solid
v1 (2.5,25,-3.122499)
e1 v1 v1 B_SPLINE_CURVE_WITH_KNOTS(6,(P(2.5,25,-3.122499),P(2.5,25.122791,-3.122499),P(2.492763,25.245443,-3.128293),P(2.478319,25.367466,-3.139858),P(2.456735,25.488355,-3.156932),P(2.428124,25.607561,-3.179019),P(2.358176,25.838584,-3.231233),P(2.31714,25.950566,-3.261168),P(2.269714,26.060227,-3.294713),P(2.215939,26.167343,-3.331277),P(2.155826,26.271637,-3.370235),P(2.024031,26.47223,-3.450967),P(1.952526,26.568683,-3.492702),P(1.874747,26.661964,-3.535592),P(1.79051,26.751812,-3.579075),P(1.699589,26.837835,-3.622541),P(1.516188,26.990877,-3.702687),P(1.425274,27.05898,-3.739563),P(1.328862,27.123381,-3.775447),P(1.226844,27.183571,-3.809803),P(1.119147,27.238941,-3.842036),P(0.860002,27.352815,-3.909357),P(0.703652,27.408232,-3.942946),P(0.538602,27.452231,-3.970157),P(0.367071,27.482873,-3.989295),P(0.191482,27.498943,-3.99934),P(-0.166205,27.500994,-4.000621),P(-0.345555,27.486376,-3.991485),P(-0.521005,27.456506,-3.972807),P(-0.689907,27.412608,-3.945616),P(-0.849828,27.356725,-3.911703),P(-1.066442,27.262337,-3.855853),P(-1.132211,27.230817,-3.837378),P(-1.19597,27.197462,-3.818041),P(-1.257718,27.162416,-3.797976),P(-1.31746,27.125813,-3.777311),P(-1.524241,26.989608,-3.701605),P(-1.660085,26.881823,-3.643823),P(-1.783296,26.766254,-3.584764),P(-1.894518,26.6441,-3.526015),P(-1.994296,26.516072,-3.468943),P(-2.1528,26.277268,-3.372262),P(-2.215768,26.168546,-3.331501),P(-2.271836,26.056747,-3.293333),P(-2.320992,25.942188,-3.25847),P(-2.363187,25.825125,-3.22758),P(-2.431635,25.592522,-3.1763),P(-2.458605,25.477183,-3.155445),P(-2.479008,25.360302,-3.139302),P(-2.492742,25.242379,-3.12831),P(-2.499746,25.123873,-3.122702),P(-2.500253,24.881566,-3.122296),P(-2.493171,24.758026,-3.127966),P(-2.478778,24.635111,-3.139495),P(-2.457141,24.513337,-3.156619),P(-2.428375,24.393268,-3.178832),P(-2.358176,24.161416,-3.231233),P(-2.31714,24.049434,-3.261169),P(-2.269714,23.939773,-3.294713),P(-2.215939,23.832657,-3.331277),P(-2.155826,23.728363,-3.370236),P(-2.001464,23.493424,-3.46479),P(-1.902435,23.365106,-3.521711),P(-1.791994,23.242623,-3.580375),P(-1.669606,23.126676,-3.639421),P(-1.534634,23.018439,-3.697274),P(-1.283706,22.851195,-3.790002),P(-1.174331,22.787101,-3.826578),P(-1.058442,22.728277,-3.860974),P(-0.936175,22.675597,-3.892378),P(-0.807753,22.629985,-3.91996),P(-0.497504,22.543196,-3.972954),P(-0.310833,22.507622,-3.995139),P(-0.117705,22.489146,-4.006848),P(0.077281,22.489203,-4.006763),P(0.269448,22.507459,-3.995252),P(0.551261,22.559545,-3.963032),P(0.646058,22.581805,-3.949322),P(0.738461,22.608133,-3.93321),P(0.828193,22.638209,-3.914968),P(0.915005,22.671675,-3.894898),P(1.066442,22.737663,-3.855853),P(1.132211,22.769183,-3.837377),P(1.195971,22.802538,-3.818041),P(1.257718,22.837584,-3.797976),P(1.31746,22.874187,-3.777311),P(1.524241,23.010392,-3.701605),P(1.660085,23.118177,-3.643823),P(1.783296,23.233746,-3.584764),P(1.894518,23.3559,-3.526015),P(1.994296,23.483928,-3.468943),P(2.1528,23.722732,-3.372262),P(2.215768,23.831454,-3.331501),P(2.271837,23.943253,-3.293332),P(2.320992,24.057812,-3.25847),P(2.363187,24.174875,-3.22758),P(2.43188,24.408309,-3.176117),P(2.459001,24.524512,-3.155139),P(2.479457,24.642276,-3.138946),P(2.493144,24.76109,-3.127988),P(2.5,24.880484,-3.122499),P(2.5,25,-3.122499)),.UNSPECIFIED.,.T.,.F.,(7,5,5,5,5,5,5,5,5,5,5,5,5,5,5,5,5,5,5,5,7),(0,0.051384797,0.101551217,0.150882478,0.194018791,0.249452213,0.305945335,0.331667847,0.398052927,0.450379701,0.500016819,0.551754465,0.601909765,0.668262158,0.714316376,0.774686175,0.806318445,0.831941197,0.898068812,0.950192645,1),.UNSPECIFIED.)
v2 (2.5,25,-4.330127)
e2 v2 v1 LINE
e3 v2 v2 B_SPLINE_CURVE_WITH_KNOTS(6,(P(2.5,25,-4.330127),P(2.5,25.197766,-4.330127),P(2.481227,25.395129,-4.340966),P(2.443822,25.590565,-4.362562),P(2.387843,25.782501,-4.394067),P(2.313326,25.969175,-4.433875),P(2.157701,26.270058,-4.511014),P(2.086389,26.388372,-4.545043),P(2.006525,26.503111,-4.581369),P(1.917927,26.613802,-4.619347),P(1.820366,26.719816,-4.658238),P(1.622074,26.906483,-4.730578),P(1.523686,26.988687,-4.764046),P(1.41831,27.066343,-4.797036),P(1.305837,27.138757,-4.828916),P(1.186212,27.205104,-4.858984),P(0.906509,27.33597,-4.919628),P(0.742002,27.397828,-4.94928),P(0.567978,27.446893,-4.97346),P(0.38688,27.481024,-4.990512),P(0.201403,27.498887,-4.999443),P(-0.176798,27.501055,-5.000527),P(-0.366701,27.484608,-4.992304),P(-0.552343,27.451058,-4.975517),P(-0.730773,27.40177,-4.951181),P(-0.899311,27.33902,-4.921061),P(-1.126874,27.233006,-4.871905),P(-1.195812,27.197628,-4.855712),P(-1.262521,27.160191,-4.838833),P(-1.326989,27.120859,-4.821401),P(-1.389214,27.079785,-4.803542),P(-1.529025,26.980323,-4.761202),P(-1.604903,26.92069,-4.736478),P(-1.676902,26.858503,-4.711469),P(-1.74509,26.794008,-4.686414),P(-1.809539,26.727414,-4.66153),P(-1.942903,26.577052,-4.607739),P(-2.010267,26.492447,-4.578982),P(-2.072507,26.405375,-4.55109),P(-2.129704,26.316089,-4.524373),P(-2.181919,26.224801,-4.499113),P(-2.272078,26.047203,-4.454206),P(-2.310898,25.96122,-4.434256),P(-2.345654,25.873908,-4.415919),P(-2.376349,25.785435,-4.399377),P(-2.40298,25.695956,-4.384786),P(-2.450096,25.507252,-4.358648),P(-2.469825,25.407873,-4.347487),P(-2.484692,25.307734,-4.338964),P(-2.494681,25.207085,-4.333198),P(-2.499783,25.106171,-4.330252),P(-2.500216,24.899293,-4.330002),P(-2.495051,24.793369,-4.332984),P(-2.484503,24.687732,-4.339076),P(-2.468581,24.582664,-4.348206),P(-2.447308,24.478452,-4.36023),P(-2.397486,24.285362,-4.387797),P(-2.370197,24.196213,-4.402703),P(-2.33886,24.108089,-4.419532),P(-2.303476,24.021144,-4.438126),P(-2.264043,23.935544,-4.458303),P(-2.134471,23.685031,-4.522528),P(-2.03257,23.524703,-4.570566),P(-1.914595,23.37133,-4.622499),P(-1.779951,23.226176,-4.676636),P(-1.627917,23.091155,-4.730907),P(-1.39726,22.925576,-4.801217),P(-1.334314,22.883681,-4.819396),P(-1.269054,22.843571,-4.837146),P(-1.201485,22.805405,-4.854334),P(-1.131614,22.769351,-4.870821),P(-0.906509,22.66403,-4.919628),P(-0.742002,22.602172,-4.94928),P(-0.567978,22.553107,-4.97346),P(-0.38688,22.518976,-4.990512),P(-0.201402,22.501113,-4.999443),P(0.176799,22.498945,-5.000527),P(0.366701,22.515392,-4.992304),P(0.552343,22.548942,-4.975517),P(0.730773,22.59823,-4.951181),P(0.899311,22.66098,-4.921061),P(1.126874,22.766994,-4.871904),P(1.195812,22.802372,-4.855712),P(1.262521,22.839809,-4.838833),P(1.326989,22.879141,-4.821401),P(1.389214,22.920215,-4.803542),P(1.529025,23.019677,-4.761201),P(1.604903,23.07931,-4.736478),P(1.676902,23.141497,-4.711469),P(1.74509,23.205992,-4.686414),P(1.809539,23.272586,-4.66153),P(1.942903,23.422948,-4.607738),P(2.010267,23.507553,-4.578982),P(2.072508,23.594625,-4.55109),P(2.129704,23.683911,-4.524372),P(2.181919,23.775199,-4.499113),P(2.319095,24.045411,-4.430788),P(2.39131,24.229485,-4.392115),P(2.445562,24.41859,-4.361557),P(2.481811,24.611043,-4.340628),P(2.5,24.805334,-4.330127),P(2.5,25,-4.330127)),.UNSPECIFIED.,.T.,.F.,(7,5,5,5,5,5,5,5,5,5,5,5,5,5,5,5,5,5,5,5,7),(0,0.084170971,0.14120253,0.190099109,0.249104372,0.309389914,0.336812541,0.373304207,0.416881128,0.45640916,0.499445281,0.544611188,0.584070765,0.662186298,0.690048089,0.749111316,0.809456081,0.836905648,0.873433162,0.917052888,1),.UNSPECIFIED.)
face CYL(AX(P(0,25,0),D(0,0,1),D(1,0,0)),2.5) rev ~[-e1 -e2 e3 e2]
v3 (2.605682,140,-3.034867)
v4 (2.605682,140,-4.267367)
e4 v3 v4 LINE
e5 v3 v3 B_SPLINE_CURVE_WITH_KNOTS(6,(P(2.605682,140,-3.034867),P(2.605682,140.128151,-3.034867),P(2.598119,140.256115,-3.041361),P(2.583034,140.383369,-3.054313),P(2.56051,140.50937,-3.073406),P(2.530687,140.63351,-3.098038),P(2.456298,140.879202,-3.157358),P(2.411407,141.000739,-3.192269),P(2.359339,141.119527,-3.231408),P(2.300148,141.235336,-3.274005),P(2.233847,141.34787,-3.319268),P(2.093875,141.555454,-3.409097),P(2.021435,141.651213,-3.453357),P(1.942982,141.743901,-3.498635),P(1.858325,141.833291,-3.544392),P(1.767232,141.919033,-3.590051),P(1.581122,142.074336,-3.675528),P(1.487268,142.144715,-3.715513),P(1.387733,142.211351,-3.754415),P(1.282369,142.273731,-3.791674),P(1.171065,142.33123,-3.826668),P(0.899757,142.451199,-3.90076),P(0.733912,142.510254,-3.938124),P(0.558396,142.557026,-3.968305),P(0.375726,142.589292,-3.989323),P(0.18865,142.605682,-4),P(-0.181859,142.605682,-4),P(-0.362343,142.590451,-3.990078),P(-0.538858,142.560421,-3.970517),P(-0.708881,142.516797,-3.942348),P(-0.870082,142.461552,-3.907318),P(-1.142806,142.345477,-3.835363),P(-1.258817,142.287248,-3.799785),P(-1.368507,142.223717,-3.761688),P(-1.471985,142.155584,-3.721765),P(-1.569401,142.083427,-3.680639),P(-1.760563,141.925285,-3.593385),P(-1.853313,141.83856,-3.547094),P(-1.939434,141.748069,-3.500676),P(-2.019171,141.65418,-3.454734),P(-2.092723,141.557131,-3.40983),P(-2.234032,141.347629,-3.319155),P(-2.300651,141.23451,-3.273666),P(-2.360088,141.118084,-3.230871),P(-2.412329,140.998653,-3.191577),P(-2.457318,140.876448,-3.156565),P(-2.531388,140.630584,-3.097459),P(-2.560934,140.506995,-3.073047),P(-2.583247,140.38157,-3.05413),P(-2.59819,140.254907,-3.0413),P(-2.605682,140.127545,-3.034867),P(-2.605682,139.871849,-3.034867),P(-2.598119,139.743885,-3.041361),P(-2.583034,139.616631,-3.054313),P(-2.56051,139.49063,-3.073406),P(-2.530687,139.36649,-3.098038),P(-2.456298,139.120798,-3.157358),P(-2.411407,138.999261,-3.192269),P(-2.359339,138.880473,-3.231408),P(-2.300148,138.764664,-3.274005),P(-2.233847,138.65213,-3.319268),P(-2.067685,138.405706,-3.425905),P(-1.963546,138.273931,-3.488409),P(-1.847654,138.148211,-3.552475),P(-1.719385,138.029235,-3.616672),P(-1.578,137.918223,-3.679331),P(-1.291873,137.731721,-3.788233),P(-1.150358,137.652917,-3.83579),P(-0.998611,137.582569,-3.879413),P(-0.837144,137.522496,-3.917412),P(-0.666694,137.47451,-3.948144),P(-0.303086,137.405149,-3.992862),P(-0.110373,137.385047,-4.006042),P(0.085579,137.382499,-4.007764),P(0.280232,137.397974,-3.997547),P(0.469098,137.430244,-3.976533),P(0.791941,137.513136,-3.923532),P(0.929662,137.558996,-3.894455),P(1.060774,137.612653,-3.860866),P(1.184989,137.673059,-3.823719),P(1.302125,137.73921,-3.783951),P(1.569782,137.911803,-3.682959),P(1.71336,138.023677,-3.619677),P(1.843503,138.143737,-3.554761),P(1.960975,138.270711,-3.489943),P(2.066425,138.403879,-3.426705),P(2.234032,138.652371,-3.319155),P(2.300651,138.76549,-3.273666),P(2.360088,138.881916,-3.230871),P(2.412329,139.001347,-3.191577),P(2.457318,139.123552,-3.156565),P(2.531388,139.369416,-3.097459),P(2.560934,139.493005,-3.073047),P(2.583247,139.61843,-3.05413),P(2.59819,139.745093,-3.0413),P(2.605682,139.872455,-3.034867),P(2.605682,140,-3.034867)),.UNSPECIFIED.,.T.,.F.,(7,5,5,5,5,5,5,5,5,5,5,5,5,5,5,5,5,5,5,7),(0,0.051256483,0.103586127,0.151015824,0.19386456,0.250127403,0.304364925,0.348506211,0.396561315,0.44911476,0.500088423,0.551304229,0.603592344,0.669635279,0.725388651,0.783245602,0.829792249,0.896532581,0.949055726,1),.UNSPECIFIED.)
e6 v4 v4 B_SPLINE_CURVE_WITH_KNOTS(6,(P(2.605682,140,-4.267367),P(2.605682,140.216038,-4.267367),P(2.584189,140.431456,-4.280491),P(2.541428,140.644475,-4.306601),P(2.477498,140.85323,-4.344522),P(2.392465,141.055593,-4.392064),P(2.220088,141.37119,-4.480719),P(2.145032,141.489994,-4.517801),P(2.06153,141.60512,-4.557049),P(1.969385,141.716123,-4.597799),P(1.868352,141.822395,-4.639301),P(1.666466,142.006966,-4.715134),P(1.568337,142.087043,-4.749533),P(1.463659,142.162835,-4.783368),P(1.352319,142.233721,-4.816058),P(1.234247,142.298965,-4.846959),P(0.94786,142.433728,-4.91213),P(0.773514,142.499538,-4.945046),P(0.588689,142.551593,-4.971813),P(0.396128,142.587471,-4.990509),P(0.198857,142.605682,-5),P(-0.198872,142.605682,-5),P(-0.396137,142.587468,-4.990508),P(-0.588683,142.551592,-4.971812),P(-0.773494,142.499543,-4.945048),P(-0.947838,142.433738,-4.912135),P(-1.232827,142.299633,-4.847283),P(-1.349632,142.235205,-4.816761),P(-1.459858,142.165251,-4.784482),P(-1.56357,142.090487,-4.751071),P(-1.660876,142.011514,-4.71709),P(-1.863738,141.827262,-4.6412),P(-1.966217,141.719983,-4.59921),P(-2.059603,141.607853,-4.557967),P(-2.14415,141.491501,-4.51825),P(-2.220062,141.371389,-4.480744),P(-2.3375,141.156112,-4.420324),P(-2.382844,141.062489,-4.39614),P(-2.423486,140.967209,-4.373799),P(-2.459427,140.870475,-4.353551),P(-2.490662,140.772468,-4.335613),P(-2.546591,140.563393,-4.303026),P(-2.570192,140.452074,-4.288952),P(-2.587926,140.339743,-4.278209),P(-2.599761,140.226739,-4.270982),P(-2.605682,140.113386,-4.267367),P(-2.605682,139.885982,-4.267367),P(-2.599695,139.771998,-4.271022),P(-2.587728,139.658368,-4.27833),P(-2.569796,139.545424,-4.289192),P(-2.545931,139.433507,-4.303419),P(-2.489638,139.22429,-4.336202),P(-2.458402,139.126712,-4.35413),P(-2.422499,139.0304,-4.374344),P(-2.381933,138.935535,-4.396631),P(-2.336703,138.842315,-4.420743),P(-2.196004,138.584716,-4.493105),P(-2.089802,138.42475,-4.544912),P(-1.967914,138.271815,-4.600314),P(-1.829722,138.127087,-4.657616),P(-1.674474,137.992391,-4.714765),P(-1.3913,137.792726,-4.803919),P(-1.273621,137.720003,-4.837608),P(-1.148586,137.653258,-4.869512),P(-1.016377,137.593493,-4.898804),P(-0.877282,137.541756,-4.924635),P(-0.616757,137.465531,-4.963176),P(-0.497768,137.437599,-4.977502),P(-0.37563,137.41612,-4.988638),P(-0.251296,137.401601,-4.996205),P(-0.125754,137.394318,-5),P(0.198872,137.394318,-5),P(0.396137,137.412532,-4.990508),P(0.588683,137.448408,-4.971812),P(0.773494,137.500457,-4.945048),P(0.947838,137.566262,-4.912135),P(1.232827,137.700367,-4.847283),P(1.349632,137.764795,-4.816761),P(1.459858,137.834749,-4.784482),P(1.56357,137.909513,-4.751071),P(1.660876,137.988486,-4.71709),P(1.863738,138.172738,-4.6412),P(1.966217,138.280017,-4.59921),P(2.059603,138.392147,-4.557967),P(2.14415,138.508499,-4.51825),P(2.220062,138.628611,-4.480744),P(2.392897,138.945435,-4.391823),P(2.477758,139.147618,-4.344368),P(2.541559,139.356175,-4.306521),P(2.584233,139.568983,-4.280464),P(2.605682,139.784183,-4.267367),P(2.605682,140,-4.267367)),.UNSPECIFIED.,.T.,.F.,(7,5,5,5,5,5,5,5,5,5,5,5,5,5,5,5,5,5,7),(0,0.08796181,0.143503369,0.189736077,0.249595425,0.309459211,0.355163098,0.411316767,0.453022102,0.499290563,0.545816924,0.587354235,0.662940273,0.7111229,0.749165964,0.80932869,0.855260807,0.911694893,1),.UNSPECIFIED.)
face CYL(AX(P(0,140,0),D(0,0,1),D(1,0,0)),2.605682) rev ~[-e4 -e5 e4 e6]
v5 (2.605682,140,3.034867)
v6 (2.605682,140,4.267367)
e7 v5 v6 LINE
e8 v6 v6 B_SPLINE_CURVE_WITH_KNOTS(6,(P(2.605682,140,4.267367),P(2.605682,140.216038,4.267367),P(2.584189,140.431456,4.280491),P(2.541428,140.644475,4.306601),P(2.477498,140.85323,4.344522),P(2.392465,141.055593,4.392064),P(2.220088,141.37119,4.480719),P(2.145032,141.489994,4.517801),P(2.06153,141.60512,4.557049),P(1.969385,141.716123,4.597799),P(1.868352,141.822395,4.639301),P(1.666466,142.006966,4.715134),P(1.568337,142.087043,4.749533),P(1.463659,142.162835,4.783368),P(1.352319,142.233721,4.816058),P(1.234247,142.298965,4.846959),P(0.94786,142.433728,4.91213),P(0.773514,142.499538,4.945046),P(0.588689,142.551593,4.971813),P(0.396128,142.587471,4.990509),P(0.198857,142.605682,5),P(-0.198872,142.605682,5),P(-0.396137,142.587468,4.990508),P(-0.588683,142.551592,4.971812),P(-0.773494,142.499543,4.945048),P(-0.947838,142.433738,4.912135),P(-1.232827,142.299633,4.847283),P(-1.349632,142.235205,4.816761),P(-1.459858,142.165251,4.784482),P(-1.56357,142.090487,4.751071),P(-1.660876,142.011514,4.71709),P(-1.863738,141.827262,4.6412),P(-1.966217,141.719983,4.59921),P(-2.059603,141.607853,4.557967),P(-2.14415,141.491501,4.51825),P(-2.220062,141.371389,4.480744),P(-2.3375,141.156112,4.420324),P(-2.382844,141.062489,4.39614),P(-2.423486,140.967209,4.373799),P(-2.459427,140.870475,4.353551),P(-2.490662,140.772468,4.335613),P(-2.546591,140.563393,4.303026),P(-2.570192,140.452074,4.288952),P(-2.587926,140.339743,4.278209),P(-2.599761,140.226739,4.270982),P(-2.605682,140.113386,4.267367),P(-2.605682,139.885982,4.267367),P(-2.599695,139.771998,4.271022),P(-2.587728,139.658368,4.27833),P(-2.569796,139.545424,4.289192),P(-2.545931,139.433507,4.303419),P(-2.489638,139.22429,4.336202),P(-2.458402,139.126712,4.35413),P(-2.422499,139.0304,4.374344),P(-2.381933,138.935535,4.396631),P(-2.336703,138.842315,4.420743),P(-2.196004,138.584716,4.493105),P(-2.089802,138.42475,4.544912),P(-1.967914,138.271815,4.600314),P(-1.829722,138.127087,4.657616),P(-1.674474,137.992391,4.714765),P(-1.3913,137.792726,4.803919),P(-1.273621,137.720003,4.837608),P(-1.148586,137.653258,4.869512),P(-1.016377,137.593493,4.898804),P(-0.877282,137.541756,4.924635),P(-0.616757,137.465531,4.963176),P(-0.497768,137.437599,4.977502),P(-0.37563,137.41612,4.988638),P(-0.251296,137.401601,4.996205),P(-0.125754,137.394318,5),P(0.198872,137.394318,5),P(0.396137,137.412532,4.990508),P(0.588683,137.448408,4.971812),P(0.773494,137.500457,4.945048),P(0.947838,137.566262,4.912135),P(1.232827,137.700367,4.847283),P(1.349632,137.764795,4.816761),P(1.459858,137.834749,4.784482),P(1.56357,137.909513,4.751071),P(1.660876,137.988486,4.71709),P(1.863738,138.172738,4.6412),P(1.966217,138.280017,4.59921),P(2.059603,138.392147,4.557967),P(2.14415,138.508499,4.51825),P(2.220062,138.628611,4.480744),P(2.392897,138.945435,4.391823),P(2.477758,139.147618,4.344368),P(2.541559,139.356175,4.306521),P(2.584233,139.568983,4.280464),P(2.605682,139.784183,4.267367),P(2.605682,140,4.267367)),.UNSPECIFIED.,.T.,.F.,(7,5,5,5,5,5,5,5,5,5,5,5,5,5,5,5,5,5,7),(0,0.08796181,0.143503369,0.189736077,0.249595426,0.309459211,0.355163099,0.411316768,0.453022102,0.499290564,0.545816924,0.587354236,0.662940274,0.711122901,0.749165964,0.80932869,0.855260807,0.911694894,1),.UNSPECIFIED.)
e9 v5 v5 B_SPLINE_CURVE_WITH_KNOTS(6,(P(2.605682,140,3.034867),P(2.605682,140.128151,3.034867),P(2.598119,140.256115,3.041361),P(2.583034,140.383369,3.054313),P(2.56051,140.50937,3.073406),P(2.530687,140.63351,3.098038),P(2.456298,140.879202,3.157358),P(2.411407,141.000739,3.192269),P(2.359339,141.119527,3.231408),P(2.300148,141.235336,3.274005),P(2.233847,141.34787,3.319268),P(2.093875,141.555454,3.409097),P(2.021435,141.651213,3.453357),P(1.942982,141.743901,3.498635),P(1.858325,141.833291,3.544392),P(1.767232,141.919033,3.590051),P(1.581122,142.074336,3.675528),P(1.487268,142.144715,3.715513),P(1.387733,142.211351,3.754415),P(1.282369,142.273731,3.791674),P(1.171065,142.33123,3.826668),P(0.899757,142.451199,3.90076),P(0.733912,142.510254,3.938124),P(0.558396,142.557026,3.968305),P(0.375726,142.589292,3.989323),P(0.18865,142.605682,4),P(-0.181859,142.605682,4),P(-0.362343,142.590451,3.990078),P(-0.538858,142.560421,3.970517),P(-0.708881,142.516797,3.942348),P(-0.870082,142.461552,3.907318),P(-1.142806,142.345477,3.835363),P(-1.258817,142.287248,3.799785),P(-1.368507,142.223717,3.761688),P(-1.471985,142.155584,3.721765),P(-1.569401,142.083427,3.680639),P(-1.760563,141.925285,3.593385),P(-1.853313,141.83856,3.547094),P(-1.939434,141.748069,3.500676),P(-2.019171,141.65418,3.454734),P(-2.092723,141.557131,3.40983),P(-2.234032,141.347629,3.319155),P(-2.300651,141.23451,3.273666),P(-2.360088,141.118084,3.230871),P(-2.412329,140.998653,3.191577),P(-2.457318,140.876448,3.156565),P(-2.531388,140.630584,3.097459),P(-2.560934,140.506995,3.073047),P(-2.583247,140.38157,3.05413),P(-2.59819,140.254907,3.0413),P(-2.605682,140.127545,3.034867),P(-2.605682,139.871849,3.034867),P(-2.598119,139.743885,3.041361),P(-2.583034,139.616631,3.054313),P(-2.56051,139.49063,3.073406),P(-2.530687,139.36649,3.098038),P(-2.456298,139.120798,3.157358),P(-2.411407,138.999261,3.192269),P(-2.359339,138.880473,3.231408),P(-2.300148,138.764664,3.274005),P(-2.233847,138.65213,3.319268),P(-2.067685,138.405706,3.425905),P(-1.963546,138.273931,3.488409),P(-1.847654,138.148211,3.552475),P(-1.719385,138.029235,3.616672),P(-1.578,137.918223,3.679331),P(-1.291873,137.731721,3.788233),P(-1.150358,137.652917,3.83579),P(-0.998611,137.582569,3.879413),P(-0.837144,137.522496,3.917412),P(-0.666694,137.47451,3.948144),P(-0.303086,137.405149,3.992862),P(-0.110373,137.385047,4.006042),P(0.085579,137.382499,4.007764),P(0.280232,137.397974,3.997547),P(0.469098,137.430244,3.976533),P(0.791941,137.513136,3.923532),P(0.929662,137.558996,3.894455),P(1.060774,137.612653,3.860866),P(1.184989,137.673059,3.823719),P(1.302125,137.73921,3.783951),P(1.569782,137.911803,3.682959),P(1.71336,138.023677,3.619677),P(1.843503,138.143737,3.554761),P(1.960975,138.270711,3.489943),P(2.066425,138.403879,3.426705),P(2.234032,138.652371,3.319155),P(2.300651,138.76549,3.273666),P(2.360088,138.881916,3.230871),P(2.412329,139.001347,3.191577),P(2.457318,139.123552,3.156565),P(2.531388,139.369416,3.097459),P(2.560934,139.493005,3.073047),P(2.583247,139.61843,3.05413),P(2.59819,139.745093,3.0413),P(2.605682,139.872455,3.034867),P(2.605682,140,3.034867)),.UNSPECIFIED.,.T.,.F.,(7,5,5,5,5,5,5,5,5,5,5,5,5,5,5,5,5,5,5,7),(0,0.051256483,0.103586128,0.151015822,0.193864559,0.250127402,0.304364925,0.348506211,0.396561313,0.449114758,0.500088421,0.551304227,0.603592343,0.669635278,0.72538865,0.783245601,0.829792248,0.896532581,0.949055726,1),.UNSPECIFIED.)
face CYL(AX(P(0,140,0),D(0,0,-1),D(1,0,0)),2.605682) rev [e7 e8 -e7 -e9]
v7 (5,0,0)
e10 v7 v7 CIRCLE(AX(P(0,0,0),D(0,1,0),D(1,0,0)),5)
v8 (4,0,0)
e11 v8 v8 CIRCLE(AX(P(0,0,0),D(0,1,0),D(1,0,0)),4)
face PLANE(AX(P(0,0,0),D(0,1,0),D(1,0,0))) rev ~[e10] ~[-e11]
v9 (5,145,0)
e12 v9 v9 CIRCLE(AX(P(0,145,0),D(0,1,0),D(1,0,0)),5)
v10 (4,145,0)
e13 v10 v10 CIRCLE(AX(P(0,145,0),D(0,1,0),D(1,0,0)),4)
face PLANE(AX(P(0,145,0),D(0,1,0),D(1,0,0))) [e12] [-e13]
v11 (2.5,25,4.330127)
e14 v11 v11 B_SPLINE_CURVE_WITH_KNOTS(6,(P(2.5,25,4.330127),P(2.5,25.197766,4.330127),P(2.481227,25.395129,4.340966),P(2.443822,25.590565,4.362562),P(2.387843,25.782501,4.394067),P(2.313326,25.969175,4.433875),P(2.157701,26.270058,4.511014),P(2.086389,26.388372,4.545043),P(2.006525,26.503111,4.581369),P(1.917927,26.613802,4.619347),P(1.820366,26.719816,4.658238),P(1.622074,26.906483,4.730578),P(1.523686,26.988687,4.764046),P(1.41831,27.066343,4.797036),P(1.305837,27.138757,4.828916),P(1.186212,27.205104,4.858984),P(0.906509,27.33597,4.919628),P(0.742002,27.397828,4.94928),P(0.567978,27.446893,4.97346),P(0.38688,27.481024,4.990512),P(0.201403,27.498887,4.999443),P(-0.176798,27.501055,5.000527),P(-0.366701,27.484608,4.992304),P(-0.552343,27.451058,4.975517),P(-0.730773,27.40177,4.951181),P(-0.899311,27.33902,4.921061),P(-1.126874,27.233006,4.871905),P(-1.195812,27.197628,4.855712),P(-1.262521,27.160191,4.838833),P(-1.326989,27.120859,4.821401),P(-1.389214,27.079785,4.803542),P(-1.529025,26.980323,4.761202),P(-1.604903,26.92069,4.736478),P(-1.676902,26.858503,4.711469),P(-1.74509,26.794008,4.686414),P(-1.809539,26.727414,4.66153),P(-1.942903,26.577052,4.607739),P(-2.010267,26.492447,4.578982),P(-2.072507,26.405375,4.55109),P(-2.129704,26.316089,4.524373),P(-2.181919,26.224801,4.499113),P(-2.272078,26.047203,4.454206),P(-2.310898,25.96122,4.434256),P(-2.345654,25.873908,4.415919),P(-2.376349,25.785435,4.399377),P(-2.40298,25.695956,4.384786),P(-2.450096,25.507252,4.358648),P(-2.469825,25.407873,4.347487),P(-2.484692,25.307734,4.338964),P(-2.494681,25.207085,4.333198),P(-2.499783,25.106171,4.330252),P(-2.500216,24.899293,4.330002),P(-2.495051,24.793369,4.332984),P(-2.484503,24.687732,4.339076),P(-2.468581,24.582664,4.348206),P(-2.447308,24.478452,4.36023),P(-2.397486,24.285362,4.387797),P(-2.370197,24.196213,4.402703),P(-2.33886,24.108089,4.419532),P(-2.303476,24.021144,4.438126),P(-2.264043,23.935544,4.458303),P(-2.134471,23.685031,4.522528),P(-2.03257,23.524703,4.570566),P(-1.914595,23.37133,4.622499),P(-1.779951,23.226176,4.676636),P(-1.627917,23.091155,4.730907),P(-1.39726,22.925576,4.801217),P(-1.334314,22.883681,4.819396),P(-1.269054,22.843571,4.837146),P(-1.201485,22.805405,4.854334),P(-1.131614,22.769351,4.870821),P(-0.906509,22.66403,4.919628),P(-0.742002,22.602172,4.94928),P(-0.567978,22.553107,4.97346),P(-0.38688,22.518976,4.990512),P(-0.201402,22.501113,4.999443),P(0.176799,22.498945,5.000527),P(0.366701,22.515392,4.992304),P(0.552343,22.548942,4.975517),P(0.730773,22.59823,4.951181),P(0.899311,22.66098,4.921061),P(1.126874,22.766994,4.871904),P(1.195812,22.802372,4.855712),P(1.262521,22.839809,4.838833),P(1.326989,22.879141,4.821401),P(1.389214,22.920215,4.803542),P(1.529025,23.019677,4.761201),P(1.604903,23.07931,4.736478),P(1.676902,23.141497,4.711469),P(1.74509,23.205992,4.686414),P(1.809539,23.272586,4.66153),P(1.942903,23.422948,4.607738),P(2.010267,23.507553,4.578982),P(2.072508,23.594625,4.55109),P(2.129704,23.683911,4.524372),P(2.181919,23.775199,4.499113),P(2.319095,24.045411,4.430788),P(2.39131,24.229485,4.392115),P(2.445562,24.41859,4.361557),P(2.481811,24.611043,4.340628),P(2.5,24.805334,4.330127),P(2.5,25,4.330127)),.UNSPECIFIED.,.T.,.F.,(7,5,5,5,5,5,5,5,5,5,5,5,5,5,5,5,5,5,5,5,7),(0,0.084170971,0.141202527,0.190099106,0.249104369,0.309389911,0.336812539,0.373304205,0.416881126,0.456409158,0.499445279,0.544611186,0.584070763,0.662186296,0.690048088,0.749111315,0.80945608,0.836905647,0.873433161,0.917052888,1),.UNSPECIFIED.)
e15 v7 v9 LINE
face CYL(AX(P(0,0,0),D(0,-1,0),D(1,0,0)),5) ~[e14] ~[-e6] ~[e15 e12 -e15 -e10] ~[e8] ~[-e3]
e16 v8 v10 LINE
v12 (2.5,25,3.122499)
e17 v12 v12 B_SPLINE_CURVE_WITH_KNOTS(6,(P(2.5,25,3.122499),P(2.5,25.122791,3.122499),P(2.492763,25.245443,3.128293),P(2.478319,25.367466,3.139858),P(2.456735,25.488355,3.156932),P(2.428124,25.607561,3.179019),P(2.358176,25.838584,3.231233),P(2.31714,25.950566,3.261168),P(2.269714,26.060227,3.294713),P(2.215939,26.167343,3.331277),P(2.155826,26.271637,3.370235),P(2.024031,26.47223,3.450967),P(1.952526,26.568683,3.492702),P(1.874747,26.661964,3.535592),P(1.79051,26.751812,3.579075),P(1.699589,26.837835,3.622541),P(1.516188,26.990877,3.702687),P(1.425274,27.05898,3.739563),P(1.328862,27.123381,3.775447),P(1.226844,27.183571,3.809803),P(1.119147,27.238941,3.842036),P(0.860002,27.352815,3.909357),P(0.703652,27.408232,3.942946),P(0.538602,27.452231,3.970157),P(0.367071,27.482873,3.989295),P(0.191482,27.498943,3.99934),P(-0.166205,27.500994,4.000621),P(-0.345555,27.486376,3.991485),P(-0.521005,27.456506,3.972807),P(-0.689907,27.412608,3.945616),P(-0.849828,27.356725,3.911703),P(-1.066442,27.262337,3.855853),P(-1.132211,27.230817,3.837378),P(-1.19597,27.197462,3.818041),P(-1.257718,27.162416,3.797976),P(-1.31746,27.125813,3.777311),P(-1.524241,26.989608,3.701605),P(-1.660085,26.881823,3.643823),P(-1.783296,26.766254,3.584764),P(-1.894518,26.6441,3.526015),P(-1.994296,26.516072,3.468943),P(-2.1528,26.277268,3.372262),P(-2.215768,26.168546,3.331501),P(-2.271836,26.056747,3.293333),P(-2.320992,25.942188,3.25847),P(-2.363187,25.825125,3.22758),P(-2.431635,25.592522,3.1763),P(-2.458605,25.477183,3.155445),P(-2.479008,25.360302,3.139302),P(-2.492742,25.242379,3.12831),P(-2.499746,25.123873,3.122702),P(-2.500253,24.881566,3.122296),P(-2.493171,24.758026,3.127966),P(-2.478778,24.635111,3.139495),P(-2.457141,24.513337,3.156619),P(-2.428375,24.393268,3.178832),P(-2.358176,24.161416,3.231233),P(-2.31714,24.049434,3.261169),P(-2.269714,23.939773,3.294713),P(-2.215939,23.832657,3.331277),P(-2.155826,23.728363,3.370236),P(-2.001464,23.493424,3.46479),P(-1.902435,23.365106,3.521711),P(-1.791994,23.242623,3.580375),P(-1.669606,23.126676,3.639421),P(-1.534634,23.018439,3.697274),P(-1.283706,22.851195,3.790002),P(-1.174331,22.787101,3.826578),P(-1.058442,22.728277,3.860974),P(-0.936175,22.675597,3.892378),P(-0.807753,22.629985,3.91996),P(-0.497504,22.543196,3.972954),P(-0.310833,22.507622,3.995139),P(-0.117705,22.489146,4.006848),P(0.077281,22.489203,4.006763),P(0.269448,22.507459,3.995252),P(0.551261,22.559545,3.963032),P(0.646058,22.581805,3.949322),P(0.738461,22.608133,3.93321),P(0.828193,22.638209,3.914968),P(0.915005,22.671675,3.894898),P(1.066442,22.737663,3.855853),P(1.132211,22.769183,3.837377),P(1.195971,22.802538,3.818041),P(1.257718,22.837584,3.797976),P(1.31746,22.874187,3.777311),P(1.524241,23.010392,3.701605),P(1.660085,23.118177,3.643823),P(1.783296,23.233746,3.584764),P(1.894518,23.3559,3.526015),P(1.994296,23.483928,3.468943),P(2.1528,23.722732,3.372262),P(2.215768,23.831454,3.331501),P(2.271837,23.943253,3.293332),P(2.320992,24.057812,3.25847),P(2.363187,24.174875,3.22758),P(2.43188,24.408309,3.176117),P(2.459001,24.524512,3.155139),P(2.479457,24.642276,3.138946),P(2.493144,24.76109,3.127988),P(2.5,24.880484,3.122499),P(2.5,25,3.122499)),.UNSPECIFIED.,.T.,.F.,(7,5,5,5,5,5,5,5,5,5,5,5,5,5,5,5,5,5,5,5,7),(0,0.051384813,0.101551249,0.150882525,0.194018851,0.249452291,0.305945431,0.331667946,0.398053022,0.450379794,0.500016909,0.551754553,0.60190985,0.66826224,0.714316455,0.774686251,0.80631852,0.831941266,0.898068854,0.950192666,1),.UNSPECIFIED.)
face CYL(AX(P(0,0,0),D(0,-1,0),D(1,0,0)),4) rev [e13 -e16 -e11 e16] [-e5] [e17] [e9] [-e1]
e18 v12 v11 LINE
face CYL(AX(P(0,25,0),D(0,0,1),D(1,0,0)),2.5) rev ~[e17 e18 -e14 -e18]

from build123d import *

# Parameters (mm, degrees)
SZKIC1_R                    = 5
SZKIC1_R_2                  = 4
DODANIE_WYCI_GNI_CIE1_DEPTH = 145
SZKIC2_R                    = 2.605682129
SZKIC2_R_2                  = 2.5
WYTNIJ_WYCI_GNI_CIE1_DEPTH  = 15


with BuildPart() as part:
    # Szkic1 → Dodanie-wyciągnięcie1 (new body)
    with BuildSketch(Plane(origin=(0, 0, 0), x_dir=(1, 0, 0), z_dir=(0, 1, 0))):
        Circle(SZKIC1_R)
        Circle(SZKIC1_R_2, mode=Mode.SUBTRACT)
    extrude(amount=DODANIE_WYCI_GNI_CIE1_DEPTH)

    # Szkic2 → Wytnij-wyciągnięcie1 (cut, symmetric)
    with BuildSketch(Plane.XY):
        with Locations((0, 140)):
            Circle(SZKIC2_R)
        with Locations((1.33e-07, 25)):
            Circle(SZKIC2_R_2)
    extrude(amount=WYTNIJ_WYCI_GNI_CIE1_DEPTH, both=True, mode=Mode.SUBTRACT)


solid = part.part
